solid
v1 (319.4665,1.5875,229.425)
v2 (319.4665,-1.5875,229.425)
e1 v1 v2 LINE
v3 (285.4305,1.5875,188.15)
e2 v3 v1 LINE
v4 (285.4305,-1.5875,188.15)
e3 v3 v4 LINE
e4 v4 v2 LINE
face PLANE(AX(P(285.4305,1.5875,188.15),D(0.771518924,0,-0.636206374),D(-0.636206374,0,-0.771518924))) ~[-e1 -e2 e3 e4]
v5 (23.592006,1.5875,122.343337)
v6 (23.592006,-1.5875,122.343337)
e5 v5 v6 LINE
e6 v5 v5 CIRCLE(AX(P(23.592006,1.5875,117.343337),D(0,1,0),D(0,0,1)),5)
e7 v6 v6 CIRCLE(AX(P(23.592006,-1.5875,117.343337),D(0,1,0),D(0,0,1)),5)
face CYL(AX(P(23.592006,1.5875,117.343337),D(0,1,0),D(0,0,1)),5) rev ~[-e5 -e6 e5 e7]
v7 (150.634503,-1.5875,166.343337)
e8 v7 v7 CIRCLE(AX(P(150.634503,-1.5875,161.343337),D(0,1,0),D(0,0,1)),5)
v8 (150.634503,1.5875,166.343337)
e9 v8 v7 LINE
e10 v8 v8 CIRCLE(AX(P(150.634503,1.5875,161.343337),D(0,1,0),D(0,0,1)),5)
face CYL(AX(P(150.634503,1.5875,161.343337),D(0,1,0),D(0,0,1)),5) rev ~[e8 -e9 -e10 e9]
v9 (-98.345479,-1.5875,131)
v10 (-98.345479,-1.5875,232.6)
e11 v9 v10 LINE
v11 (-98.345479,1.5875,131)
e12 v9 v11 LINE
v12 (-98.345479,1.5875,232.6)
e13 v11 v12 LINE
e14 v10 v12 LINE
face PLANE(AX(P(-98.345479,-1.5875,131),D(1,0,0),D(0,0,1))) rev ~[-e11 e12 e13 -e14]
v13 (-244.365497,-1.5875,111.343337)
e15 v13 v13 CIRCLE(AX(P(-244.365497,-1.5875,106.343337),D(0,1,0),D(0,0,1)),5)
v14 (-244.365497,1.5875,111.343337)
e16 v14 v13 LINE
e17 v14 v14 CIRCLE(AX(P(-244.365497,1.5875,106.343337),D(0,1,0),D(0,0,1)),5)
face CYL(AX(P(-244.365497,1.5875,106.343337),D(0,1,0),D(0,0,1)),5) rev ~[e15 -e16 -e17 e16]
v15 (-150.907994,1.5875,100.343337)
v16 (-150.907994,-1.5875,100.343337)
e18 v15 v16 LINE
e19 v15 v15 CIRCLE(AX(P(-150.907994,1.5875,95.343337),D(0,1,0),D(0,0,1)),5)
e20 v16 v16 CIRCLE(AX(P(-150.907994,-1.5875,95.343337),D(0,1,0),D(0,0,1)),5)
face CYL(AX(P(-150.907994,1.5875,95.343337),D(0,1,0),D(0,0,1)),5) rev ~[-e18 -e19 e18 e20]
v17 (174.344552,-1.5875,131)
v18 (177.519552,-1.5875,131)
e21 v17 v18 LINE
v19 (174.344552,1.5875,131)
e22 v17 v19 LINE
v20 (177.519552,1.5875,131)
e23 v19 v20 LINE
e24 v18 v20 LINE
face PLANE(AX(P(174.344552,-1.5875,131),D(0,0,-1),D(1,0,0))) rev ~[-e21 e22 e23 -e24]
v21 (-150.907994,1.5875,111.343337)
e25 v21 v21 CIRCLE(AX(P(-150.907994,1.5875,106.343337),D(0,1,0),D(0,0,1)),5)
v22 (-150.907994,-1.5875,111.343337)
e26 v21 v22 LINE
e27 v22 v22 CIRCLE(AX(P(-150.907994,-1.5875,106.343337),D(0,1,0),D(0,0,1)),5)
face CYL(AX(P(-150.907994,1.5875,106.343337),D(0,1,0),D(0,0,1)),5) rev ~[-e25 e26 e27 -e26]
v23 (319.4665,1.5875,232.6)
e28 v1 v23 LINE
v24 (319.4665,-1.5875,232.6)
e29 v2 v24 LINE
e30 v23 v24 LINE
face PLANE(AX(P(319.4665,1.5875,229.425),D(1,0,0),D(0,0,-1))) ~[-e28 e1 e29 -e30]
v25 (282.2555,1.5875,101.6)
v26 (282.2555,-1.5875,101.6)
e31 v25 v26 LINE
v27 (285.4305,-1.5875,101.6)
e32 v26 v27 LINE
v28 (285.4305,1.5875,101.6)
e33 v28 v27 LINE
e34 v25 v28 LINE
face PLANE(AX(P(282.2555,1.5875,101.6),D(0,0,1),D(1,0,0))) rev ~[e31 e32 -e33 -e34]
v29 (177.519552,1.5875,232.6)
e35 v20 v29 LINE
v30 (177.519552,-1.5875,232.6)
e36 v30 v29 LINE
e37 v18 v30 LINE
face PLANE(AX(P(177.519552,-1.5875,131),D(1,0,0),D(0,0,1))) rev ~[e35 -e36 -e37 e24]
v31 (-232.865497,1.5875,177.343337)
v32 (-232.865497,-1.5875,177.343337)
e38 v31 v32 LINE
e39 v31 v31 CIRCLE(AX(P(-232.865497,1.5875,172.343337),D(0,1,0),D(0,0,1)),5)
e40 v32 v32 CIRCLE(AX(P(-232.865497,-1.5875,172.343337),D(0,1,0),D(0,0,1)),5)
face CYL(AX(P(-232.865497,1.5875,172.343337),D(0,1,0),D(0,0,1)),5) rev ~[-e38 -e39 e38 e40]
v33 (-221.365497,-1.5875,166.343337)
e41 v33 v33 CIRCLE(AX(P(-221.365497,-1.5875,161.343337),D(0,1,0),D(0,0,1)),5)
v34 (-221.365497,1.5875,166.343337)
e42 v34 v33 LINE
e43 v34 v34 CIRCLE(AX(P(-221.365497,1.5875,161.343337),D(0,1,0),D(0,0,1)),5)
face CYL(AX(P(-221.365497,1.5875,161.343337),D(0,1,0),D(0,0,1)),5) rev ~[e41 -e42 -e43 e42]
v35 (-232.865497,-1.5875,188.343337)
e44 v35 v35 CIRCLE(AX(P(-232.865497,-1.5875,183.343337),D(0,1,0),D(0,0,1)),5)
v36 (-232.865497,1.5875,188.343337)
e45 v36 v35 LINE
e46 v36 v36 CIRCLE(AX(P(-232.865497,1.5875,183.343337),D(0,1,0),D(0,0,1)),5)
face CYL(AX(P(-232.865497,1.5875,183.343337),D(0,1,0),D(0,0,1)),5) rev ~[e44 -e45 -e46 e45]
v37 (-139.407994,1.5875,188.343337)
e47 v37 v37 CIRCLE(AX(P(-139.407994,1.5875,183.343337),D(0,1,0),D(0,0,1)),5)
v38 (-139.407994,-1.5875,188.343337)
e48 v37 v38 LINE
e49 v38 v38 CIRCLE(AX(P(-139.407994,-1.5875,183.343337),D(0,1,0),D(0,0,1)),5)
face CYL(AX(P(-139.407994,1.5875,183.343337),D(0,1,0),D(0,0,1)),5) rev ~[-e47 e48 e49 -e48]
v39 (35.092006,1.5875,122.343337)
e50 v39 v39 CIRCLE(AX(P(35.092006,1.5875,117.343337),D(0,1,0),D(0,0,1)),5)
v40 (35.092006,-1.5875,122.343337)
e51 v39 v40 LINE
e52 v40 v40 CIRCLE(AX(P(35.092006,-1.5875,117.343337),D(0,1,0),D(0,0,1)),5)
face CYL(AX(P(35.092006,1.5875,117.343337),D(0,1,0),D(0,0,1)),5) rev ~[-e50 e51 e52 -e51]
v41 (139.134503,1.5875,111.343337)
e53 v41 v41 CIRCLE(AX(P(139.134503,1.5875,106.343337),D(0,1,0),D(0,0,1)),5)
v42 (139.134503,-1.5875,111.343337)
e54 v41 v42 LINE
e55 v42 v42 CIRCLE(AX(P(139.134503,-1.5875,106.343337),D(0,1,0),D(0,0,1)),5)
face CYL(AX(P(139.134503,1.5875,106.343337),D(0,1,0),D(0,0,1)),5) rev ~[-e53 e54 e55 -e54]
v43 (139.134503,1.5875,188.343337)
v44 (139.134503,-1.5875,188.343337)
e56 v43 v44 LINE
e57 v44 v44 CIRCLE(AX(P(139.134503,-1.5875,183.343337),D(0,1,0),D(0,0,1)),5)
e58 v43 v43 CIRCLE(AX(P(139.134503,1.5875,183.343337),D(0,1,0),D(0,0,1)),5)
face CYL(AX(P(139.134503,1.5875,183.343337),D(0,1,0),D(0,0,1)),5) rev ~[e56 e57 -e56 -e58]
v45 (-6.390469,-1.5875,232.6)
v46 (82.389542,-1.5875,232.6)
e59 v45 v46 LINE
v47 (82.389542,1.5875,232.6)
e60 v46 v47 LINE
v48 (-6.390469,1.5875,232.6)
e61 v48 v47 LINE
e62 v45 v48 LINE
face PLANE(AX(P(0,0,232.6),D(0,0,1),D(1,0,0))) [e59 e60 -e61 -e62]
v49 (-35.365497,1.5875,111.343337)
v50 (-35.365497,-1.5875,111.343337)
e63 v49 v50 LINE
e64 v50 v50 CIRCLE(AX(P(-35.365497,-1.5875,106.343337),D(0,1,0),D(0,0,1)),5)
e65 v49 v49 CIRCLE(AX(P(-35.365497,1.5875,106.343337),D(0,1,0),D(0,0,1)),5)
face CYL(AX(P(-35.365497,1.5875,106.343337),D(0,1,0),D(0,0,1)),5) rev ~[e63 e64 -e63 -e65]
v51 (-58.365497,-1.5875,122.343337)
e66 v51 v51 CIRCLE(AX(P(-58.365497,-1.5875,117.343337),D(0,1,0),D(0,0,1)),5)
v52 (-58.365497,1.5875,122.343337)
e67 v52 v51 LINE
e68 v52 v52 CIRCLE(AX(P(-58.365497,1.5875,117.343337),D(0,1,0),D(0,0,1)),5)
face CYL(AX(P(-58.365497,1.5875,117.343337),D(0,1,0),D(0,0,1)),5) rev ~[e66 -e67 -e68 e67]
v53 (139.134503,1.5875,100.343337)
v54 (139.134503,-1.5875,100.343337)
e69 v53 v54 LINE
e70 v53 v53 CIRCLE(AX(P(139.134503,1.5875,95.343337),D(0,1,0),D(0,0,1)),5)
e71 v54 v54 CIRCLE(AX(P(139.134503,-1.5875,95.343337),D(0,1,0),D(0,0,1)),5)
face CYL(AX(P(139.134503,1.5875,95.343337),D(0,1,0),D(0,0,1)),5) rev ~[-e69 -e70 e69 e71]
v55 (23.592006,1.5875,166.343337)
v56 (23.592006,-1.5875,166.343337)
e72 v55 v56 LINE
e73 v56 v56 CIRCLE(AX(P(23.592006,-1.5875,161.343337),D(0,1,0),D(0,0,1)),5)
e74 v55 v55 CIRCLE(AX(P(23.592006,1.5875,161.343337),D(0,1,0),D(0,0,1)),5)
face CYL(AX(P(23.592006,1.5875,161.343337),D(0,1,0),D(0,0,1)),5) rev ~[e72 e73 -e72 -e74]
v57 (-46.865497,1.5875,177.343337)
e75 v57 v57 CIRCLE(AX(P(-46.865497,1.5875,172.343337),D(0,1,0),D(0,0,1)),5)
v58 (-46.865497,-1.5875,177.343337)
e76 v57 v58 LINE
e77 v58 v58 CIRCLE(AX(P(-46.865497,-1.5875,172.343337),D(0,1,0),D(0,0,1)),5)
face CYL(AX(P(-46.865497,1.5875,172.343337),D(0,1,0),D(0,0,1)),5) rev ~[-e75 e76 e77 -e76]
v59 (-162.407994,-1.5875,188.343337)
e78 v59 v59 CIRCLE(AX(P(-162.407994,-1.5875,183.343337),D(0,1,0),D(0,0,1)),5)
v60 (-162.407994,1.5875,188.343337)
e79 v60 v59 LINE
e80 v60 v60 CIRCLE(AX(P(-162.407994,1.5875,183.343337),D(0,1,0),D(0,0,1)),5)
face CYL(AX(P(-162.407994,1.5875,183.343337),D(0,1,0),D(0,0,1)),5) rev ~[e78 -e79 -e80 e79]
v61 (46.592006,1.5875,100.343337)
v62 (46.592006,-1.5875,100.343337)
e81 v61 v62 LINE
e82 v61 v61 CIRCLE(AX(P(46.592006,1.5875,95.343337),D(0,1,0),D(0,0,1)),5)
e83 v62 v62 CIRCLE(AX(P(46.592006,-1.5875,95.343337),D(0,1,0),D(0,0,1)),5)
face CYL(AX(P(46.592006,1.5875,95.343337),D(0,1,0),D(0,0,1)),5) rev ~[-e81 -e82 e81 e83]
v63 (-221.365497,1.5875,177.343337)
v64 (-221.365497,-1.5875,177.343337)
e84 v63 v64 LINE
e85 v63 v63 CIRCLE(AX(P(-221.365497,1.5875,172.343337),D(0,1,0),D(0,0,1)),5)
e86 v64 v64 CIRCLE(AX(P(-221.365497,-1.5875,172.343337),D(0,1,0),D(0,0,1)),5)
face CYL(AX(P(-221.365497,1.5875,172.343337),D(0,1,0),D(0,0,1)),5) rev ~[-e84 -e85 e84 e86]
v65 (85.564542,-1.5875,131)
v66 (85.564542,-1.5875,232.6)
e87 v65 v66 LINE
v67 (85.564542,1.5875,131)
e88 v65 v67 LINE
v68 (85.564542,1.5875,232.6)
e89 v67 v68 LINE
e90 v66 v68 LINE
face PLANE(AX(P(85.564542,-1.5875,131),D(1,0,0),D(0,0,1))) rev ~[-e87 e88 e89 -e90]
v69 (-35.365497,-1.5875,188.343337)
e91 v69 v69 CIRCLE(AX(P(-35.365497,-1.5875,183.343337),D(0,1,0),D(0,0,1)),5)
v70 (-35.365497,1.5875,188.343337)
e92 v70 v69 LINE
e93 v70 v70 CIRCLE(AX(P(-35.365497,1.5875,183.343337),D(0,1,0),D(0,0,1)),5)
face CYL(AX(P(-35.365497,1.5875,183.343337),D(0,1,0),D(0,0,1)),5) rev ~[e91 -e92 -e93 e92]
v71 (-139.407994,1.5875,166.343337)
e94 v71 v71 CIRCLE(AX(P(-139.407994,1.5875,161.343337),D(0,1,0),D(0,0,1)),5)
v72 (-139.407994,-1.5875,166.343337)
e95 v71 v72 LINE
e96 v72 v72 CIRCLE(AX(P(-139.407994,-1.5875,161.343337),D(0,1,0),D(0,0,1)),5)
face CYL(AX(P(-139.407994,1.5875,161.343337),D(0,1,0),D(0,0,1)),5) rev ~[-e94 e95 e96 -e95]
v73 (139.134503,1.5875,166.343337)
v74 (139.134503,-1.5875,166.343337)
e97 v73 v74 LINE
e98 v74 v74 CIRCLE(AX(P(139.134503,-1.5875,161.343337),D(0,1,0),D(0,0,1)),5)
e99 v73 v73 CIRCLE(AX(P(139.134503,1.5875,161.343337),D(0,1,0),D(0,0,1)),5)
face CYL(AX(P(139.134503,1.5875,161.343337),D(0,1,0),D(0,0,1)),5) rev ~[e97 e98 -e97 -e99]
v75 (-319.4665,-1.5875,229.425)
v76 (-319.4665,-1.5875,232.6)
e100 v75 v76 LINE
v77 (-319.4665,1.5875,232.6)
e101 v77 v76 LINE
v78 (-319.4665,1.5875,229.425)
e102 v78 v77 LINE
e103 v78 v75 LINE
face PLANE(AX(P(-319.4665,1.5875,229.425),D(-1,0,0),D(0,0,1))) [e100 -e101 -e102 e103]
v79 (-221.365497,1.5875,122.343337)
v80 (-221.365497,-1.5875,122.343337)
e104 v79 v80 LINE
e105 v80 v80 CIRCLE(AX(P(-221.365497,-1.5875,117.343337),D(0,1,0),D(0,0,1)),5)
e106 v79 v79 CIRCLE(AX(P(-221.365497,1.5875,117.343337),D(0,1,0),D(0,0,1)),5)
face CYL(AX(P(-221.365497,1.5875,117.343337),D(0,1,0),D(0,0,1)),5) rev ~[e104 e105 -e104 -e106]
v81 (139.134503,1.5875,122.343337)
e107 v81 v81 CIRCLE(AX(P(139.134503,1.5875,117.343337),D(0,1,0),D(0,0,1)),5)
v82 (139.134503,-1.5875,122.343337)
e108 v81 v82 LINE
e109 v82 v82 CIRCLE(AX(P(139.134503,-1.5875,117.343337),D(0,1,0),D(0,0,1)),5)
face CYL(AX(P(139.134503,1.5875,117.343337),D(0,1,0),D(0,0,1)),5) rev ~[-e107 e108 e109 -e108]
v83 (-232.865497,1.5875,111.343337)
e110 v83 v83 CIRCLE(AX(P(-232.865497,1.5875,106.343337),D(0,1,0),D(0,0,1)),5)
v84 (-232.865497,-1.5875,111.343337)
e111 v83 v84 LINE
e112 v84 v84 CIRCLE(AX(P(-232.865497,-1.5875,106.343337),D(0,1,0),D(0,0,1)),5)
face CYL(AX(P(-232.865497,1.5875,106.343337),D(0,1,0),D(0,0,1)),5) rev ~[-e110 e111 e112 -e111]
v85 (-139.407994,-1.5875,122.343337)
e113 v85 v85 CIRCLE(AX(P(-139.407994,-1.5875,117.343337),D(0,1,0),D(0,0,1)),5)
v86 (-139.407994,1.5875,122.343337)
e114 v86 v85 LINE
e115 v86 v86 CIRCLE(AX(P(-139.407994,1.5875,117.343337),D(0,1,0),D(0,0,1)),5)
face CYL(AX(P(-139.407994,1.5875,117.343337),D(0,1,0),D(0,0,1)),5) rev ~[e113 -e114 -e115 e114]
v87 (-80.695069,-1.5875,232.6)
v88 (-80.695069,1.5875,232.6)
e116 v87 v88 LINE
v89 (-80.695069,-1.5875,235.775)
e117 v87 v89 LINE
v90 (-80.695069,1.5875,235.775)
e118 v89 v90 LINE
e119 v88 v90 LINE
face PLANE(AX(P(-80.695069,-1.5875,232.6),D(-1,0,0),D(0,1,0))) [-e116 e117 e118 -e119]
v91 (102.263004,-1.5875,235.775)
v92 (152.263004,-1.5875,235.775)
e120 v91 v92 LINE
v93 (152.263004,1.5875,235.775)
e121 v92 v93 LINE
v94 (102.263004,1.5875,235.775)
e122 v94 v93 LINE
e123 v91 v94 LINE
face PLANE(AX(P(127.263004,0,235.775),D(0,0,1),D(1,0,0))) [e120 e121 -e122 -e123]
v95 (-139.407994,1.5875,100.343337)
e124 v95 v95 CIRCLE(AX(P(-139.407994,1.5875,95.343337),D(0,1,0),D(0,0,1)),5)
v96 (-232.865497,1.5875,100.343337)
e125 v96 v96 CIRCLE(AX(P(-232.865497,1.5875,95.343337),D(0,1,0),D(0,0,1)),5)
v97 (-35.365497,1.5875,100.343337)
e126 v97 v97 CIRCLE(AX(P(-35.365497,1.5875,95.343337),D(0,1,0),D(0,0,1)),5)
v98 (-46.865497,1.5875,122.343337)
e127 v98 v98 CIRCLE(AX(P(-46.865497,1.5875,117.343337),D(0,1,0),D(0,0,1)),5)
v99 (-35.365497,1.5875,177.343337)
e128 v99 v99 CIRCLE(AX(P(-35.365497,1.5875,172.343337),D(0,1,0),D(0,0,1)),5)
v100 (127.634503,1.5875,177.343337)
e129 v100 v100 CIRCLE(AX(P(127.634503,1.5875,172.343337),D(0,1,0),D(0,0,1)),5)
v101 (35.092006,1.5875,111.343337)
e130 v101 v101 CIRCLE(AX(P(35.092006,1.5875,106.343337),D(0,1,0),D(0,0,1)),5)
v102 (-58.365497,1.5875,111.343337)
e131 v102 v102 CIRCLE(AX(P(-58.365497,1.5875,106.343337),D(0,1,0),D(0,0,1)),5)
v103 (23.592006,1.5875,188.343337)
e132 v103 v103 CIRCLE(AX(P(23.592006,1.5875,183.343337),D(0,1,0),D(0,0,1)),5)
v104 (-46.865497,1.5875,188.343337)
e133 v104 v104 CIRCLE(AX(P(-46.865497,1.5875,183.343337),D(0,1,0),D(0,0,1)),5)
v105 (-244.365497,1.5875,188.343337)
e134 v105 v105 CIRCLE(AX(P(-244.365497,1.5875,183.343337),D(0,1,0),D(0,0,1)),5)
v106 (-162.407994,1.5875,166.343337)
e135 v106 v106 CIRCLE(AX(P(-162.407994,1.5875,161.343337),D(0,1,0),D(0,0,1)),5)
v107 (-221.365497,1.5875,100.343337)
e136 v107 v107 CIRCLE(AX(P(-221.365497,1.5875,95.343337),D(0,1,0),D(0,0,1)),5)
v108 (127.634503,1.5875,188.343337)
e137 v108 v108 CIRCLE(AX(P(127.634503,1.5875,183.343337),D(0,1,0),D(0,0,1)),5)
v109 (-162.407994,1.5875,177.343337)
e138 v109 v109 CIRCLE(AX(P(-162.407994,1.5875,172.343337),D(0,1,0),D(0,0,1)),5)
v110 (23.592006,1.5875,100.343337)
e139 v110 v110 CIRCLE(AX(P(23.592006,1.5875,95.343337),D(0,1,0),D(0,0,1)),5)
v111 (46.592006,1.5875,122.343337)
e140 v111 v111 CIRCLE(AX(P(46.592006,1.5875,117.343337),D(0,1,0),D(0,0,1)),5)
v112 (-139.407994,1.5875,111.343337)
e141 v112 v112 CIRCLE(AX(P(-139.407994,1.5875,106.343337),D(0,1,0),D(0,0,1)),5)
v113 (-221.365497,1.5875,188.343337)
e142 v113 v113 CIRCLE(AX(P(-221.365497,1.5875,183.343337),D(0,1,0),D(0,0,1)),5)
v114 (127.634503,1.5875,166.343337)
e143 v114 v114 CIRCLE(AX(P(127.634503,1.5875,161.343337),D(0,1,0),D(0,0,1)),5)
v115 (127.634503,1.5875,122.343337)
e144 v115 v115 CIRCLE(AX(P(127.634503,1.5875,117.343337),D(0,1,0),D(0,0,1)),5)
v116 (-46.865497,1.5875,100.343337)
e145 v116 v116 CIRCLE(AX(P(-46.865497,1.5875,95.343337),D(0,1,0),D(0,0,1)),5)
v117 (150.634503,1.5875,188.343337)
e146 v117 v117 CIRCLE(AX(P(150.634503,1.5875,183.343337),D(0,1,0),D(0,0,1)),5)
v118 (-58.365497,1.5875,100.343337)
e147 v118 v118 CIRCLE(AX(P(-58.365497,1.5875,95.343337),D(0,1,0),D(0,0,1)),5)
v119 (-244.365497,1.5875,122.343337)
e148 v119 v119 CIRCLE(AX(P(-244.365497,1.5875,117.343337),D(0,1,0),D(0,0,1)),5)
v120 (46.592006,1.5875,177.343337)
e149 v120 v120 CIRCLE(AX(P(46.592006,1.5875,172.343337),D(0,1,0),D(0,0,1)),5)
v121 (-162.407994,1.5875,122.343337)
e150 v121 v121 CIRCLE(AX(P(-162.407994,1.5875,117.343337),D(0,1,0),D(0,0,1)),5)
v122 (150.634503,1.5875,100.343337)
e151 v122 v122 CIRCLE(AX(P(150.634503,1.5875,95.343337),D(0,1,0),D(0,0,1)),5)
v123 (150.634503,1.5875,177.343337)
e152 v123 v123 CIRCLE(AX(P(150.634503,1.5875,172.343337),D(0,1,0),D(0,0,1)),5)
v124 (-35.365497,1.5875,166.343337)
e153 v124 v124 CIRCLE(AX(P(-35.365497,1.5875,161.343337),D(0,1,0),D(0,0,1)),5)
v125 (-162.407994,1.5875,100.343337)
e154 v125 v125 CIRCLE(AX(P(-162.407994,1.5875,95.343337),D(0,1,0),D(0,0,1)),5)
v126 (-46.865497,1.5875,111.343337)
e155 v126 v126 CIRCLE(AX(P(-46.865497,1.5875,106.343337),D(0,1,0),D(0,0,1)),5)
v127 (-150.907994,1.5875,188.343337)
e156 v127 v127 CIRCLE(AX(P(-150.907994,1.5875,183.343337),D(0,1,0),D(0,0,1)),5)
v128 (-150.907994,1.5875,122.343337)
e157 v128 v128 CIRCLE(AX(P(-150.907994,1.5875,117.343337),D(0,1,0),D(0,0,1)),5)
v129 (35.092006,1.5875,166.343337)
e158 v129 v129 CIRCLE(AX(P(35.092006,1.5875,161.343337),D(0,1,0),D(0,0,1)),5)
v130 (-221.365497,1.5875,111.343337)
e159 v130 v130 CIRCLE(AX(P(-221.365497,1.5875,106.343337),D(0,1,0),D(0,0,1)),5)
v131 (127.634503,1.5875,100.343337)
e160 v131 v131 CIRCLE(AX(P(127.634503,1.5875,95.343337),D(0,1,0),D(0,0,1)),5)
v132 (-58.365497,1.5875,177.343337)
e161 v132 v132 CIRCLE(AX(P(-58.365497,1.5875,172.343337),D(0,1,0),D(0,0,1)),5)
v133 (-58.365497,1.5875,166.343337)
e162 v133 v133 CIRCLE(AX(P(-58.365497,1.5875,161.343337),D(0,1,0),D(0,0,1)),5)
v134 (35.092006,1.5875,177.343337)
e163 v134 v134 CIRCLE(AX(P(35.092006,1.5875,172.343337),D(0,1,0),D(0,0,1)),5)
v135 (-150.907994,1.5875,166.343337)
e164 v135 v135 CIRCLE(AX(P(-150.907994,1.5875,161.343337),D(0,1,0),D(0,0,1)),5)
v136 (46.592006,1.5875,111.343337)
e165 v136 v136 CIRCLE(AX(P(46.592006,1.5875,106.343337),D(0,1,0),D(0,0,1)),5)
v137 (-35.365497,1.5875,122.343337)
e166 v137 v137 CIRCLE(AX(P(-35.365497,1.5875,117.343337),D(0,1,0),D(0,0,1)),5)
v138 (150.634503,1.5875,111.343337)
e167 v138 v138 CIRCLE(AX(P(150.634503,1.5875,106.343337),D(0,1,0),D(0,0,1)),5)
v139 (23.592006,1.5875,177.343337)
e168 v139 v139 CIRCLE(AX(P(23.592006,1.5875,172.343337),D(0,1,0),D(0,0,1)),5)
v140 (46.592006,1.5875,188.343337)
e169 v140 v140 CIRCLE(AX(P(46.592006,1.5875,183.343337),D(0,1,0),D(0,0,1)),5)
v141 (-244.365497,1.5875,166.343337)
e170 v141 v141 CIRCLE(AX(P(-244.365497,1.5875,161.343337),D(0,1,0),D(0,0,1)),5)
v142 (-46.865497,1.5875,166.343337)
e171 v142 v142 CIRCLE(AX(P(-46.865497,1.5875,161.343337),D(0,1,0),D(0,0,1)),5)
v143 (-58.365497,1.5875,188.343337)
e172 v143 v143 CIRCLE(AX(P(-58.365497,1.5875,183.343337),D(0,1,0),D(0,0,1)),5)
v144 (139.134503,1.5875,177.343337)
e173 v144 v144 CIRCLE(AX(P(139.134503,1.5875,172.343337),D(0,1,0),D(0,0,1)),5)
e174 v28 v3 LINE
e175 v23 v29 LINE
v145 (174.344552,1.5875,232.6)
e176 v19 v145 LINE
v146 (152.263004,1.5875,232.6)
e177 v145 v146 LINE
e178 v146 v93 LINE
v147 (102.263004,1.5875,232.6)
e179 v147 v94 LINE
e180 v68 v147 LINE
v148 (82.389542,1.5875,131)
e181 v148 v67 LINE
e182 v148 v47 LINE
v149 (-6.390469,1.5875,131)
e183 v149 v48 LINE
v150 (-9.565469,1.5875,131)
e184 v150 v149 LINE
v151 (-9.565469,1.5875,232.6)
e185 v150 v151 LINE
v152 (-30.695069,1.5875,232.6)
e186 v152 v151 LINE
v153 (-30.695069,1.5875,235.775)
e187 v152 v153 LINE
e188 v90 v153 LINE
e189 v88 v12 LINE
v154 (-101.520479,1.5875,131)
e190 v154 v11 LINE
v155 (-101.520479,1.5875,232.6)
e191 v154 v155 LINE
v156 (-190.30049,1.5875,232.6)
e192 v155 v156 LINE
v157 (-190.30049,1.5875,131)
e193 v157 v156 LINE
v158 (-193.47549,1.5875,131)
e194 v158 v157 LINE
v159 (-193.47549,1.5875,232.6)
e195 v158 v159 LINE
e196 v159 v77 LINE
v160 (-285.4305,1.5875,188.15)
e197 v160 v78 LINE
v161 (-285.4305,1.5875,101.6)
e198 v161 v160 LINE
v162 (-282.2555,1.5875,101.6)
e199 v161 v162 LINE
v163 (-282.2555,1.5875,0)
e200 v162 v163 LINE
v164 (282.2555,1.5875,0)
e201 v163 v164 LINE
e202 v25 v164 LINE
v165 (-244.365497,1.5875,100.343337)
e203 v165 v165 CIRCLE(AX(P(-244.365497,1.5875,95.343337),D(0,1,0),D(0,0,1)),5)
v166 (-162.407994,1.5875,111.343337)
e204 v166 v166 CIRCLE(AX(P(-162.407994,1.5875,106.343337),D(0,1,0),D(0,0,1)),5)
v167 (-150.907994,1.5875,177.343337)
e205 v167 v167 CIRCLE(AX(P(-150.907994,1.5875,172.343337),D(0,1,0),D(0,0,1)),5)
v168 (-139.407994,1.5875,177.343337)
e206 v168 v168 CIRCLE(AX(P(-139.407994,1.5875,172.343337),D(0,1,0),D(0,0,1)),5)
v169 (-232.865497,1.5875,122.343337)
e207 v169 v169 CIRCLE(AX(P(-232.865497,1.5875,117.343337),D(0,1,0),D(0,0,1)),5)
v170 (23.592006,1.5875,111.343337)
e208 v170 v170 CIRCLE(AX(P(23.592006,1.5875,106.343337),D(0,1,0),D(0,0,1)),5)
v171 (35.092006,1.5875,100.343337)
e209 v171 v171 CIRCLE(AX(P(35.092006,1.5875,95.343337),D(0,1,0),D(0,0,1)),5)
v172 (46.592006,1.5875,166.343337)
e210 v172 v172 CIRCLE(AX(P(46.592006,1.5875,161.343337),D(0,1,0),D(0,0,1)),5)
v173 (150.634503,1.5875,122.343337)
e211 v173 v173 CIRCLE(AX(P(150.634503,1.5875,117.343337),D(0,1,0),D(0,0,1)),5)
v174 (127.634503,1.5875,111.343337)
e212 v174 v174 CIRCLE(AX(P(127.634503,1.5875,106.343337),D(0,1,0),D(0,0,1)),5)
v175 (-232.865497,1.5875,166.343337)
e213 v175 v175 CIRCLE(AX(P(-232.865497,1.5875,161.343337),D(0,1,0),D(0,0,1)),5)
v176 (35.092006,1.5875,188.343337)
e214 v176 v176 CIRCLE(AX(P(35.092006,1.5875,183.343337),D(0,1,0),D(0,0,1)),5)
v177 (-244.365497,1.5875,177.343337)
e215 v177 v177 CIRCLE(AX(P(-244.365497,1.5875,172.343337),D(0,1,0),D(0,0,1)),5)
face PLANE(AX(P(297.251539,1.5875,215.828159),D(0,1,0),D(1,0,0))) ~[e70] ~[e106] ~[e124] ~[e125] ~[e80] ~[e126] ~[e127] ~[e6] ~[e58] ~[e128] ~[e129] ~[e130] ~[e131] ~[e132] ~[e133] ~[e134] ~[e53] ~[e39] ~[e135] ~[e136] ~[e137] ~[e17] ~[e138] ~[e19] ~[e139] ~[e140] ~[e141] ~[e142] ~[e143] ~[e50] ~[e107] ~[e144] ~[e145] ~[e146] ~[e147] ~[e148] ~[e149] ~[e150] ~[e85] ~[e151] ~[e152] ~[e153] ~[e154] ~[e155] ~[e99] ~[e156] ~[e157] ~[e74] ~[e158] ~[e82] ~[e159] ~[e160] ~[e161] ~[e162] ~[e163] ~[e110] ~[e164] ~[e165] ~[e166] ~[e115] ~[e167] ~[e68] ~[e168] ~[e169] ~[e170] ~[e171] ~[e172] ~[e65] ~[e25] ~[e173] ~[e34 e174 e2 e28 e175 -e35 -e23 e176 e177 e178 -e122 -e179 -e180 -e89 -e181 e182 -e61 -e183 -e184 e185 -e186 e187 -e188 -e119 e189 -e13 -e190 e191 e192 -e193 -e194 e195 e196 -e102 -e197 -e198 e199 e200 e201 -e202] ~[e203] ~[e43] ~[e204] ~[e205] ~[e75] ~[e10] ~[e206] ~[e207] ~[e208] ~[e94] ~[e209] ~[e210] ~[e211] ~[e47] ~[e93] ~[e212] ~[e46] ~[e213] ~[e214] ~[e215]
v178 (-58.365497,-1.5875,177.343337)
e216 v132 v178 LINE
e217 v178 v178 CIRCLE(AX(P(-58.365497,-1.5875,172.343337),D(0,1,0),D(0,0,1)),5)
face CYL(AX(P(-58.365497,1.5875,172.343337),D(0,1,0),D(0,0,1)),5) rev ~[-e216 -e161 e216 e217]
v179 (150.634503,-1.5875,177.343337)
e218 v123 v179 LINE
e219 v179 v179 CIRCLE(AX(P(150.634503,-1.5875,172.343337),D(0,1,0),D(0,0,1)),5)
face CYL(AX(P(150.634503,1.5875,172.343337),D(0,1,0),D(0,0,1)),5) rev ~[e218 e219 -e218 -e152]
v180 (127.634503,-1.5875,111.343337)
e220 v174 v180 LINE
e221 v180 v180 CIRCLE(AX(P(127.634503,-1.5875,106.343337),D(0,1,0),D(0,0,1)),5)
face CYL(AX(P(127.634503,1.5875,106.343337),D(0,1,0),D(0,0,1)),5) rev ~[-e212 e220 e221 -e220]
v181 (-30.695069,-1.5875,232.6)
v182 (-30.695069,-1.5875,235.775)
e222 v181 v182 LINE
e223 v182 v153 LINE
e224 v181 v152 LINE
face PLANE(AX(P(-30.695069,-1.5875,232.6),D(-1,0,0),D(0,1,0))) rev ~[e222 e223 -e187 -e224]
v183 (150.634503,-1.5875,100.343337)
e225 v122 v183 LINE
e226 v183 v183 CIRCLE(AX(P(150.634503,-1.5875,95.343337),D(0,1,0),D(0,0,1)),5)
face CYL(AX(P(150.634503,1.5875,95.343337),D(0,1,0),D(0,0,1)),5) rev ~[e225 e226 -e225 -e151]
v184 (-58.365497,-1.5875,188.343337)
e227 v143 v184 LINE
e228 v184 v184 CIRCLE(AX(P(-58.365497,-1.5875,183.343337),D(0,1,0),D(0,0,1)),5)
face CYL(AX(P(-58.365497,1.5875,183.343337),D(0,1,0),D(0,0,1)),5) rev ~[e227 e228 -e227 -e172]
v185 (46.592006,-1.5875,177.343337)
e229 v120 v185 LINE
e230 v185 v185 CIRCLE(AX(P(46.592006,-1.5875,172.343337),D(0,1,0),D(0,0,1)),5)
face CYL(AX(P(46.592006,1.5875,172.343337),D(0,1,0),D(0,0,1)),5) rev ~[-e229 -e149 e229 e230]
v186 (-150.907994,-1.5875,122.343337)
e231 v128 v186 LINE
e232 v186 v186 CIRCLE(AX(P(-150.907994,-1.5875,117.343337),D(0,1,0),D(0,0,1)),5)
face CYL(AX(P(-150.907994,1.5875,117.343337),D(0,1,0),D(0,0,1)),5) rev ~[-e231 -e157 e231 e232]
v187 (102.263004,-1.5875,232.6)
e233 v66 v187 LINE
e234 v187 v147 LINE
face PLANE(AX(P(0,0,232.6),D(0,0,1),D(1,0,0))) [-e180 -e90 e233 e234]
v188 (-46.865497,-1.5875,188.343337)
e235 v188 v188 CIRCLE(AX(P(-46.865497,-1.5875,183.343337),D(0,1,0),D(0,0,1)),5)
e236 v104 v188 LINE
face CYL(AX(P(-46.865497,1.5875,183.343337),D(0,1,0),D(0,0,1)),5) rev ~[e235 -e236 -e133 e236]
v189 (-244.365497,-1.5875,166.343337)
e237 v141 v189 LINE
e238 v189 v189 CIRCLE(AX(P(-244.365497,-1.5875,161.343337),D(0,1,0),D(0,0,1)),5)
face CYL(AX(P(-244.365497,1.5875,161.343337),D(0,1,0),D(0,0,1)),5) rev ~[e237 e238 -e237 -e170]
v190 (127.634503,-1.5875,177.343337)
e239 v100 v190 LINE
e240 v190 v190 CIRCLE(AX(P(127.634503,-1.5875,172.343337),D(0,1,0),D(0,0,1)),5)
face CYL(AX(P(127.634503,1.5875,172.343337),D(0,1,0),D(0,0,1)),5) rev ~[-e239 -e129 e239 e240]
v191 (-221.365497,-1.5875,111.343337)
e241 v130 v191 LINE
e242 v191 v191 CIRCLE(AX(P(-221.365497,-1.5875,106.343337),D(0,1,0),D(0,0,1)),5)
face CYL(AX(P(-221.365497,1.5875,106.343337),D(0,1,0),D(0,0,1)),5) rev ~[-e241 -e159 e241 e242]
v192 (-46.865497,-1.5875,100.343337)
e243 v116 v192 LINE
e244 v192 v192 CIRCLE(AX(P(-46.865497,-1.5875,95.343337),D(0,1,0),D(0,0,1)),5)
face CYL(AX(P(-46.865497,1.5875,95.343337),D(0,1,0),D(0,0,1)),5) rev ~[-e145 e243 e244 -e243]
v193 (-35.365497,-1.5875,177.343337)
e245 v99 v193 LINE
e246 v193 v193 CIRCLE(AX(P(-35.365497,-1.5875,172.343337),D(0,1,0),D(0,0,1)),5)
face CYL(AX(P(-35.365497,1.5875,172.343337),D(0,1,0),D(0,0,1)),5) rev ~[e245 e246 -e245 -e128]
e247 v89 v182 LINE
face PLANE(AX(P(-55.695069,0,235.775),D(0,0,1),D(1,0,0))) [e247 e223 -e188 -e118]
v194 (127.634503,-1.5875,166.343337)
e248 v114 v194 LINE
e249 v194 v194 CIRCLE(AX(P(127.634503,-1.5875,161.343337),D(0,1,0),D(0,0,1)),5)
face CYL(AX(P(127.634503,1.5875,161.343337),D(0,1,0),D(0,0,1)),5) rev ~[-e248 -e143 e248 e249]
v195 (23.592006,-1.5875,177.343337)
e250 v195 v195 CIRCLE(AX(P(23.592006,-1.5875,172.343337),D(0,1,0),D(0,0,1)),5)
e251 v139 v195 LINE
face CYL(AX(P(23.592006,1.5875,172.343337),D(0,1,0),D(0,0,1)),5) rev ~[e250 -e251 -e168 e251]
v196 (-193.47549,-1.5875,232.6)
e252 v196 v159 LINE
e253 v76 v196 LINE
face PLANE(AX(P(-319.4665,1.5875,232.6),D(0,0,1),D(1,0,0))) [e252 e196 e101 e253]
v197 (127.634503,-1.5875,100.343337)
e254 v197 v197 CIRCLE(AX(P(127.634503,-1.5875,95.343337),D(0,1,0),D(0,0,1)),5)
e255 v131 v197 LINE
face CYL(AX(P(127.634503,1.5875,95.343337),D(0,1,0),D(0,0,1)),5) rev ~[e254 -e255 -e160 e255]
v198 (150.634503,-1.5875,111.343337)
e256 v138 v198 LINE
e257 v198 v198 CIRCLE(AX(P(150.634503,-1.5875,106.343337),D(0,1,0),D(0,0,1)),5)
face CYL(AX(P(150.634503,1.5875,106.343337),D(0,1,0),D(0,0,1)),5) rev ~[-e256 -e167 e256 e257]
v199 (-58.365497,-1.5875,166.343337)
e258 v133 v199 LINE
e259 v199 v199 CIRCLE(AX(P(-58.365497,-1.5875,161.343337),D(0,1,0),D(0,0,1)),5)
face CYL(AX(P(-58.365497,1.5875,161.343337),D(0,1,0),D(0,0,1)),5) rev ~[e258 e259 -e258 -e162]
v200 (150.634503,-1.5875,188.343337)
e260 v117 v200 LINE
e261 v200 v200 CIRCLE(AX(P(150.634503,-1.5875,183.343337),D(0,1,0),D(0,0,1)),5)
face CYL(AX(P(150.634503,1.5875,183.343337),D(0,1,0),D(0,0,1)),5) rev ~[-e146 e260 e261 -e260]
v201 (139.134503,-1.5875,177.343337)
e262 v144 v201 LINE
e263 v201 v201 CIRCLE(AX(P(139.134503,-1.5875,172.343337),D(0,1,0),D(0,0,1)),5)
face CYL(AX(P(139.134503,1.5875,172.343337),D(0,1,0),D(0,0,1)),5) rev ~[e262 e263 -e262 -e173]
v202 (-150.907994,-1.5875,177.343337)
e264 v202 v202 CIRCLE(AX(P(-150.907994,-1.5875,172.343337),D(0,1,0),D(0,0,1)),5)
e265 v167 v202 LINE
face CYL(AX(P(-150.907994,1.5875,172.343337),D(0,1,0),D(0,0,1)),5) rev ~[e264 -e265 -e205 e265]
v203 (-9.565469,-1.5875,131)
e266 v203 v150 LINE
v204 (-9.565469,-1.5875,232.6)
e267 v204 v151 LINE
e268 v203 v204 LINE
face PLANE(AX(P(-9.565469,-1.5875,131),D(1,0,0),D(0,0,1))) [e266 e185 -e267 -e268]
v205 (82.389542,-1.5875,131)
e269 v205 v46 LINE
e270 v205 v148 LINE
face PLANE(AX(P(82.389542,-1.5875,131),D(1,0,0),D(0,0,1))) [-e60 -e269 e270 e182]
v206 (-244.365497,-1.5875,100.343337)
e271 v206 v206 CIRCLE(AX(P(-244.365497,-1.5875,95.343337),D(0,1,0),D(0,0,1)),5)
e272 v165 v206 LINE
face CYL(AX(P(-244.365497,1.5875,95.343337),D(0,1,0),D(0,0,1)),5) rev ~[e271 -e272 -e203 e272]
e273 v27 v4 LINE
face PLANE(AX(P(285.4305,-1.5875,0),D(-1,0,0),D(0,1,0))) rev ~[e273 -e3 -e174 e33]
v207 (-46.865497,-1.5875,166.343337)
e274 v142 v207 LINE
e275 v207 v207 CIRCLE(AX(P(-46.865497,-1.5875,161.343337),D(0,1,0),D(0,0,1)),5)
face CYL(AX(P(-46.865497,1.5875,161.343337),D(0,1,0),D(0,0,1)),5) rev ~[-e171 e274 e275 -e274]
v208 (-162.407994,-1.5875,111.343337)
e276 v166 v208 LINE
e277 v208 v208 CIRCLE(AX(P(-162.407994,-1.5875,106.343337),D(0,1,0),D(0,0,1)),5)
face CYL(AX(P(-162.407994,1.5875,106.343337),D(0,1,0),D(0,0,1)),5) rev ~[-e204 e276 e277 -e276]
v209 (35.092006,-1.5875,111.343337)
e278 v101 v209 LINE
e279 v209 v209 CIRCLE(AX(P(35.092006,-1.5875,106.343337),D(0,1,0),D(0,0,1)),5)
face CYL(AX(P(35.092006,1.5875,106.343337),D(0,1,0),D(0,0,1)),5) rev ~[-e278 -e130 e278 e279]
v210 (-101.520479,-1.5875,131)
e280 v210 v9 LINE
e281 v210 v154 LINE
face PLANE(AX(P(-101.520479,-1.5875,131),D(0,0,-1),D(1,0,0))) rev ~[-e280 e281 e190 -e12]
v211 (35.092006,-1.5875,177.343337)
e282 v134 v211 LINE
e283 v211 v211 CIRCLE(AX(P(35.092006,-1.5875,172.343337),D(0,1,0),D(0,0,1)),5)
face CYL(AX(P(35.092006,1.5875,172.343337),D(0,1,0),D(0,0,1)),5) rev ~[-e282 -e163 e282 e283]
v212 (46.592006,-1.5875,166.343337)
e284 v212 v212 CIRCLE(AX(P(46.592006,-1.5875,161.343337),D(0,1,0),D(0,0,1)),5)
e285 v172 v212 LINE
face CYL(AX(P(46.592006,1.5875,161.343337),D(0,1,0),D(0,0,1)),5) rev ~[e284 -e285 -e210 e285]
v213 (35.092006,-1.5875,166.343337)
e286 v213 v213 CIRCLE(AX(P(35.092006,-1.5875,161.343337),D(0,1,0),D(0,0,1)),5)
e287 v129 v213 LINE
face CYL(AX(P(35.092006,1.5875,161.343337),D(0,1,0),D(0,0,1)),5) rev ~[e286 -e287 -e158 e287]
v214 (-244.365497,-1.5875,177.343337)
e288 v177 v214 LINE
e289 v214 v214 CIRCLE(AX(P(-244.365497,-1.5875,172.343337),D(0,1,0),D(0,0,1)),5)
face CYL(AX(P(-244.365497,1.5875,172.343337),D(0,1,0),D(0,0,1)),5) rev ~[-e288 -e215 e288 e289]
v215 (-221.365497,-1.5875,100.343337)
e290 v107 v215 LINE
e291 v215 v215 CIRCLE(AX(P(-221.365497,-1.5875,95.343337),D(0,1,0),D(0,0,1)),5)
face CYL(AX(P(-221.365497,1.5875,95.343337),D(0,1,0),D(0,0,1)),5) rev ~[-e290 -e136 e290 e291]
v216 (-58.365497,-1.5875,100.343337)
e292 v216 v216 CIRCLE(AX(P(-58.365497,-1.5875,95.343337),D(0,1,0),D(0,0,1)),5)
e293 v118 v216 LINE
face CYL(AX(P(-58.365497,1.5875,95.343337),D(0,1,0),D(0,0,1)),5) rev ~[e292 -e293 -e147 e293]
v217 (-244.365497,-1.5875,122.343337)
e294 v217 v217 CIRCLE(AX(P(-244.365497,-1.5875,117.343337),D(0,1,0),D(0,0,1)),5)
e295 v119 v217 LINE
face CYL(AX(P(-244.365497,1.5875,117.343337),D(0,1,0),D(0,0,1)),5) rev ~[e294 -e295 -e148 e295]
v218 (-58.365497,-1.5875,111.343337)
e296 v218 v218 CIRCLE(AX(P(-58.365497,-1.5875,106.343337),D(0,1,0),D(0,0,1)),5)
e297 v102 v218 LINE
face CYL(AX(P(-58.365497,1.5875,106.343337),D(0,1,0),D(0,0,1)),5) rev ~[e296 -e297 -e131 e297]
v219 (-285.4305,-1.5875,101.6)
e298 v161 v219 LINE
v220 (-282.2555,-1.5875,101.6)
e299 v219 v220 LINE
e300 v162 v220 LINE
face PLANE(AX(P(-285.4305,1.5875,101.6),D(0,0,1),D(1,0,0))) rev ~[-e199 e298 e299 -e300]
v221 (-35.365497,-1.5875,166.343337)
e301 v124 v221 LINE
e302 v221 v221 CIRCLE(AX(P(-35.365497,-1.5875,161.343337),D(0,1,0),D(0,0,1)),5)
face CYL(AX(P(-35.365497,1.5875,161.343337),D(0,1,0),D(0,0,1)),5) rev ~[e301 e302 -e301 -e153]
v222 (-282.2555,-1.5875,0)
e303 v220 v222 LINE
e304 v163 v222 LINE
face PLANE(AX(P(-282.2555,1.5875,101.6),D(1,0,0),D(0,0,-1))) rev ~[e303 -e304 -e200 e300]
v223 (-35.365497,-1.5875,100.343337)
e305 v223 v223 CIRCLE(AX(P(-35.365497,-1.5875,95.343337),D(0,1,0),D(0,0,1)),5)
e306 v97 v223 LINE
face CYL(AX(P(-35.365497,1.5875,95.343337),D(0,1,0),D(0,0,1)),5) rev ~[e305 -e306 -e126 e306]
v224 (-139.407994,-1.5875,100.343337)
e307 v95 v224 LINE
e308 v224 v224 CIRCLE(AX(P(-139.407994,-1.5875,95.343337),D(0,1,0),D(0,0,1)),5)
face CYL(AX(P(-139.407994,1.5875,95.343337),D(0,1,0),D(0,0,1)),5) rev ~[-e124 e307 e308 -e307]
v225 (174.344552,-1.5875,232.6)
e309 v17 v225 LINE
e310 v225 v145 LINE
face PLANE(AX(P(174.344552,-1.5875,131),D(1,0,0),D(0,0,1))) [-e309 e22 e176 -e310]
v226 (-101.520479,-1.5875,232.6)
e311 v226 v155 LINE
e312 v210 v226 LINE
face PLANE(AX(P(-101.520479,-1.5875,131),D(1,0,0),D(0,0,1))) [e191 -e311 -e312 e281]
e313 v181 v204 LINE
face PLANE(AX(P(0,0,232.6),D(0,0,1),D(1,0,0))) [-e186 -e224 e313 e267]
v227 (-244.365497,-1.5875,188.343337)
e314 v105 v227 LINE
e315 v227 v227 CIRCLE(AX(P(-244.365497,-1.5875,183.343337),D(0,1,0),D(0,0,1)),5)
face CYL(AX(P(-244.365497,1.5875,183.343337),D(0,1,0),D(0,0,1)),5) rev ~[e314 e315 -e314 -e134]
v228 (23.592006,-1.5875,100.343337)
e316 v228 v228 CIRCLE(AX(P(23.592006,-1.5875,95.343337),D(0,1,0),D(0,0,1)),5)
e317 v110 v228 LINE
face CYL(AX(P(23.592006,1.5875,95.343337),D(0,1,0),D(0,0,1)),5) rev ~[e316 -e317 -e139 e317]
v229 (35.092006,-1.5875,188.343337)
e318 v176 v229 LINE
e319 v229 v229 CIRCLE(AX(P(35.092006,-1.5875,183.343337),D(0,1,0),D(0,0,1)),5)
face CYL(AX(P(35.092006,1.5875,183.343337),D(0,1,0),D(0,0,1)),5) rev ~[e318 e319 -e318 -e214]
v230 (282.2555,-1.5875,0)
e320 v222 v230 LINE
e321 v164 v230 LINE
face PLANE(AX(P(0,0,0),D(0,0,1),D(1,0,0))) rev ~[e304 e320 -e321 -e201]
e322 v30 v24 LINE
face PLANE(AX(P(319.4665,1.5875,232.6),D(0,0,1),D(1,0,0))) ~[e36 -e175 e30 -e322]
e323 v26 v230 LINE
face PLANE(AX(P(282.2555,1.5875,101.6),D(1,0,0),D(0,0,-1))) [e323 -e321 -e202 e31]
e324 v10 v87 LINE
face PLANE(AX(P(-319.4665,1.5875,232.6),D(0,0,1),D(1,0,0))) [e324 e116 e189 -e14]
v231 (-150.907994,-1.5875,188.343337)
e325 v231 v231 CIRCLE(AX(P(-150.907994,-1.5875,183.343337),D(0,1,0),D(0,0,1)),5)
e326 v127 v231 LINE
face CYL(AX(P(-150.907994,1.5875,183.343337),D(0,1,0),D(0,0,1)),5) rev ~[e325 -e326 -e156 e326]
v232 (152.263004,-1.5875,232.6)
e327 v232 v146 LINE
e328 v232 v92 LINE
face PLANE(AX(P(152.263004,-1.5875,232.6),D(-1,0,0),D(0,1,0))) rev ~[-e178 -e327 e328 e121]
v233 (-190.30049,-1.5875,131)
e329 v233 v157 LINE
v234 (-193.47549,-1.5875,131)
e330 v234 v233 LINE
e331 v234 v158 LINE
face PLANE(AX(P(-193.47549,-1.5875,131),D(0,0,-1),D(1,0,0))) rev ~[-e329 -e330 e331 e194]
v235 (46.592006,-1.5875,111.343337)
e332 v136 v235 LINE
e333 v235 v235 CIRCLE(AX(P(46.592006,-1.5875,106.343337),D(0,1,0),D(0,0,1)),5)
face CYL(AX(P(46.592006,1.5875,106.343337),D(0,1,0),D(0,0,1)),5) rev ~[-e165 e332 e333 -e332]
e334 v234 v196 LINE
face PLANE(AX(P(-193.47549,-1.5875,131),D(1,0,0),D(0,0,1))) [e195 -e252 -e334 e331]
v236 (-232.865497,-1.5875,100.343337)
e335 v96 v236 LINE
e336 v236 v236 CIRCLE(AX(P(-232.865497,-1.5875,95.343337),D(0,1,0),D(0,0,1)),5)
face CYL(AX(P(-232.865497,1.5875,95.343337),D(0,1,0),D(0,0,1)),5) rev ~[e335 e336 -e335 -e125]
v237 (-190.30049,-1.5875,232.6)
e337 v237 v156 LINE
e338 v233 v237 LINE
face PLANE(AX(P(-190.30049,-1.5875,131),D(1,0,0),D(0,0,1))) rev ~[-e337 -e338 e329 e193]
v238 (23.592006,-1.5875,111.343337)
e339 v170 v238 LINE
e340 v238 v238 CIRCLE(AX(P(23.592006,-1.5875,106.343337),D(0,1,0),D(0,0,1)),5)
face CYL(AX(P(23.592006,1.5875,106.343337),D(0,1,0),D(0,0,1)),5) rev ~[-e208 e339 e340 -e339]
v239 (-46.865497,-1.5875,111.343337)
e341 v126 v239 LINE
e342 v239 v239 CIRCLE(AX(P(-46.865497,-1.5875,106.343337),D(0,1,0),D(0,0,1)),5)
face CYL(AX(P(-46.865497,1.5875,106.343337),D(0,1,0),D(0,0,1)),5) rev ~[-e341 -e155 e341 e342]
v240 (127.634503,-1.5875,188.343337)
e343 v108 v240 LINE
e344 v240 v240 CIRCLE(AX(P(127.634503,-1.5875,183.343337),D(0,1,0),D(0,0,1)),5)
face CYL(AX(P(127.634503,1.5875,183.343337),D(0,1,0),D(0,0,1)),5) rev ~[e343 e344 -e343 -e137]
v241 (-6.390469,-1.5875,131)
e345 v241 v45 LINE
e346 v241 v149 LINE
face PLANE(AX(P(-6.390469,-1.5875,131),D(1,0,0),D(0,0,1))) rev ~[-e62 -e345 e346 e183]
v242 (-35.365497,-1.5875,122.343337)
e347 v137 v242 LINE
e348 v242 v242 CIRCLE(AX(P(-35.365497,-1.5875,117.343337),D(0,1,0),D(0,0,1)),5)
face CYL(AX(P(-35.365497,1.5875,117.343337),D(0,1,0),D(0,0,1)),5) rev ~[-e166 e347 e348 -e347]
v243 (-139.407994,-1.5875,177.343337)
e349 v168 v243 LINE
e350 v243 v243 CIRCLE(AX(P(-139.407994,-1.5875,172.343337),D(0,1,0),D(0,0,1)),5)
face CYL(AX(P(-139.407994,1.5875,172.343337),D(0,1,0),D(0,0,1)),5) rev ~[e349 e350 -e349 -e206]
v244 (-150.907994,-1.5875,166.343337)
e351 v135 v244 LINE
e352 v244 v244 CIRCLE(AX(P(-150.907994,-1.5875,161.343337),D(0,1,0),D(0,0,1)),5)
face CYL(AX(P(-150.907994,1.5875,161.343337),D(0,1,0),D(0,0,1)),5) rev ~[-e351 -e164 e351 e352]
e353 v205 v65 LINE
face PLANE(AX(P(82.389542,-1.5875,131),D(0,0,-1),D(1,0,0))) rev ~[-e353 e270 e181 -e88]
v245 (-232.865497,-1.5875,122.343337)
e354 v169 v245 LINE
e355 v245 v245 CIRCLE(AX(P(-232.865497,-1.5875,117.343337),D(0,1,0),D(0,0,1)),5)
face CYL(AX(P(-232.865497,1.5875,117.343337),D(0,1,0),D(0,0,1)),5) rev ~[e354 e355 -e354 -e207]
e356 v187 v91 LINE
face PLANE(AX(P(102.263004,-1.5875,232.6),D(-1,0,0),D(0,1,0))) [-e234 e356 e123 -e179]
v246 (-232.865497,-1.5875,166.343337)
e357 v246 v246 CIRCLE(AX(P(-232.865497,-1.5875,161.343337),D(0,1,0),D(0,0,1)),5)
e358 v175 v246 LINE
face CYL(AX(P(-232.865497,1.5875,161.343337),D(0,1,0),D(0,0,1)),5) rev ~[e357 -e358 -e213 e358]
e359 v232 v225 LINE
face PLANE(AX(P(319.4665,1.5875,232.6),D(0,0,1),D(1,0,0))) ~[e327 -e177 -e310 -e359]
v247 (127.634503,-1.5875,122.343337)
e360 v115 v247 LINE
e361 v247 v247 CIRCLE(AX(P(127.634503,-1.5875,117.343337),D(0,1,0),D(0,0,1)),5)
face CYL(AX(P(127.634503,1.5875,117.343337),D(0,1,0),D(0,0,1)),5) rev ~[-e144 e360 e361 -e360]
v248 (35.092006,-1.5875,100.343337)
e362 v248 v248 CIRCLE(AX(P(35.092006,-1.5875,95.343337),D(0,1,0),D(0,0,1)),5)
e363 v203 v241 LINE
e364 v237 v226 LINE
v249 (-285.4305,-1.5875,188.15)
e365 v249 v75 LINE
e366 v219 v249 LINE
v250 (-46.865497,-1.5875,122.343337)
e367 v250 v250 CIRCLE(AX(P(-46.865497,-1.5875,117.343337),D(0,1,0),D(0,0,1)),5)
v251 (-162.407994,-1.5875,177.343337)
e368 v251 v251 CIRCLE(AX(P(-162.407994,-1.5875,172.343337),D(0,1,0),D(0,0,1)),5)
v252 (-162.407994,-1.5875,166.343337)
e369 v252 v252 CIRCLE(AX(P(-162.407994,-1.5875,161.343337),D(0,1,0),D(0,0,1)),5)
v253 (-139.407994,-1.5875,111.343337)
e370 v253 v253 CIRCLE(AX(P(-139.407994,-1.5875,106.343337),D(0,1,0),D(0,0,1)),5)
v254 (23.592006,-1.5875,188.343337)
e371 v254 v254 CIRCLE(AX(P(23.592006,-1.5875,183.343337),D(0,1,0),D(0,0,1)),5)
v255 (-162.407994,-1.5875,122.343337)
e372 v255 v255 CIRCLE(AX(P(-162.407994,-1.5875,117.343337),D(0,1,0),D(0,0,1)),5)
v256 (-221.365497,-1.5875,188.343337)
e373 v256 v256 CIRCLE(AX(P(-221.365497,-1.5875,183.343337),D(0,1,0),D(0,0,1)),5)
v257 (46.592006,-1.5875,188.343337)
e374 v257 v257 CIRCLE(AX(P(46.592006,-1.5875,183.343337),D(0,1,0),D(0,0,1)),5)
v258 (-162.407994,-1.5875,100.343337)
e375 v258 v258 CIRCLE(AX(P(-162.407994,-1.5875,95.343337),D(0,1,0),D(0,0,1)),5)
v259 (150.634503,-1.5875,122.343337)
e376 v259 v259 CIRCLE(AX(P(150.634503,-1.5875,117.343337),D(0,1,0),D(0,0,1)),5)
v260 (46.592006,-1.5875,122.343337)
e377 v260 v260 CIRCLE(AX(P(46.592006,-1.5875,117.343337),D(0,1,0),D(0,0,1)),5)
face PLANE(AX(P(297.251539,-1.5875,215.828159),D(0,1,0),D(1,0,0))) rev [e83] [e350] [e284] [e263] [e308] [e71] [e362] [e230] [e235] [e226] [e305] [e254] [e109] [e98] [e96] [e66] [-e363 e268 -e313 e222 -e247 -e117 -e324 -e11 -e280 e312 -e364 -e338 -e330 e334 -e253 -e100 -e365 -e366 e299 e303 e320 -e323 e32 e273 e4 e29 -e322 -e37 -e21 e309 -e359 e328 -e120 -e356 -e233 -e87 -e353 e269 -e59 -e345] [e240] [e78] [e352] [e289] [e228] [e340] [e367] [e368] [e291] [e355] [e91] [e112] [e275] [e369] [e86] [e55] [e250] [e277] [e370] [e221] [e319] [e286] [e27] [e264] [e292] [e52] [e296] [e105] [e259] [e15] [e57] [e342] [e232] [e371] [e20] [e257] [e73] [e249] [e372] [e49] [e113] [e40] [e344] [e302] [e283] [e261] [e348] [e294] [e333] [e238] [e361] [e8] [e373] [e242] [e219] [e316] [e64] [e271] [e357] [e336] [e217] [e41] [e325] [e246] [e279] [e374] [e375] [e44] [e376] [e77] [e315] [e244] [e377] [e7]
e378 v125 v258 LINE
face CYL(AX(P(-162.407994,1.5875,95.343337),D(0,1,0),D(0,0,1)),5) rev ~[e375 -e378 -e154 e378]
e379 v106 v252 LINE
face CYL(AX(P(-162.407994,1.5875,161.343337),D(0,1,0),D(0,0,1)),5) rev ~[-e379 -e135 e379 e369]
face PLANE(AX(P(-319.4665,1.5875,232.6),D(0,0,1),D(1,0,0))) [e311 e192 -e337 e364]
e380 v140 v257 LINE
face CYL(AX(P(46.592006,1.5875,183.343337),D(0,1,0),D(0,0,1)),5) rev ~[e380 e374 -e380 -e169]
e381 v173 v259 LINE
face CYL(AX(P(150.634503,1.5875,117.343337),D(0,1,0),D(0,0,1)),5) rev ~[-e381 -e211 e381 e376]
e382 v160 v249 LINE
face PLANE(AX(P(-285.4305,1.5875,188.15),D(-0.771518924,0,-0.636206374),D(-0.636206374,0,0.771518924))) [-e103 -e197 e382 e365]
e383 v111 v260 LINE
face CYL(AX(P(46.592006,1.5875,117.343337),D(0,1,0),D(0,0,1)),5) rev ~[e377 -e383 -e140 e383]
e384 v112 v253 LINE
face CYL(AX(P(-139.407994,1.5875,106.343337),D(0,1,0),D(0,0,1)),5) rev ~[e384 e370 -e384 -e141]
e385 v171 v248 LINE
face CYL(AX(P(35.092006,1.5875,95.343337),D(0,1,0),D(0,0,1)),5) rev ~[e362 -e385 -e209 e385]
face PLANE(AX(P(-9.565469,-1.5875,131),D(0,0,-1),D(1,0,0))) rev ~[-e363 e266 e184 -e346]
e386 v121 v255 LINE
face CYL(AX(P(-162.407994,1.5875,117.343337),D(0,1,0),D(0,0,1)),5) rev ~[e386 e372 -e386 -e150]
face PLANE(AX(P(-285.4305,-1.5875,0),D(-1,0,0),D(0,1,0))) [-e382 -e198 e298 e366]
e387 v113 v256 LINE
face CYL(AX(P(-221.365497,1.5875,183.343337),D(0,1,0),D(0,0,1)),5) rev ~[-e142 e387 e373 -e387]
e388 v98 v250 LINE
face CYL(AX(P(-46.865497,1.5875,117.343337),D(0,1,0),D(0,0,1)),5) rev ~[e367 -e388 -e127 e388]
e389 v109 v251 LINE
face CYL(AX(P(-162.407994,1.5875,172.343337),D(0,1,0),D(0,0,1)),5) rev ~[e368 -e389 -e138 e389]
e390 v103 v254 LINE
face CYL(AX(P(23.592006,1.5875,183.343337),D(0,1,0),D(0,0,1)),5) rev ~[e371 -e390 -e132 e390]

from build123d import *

# Parameters (mm, degrees)
SKETCH1_W           = 570.861
SKETCH1_H           = 3.175
BOSS_EXTRUDE1_DEPTH = 232.6
SKETCH6_W           = 50
SKETCH6_H           = 3.175
BOSS_EXTRUDE2_DEPTH = 3.175
SKETCH2_W           = 3.175
SKETCH2_H           = 101.6
CUT_EXTRUDE5_DEPTH  = 371.230335845
BOSS_EXTRUDE3_DEPTH = 3.175
SKETCH13_W          = 3.175
SKETCH13_H          = 101.6
CUT_EXTRUDE6_DEPTH  = 398.062685067
LPATTERN2_COUNT     = 5
LPATTERN2_PITCH     = 91.9550104
SKETCH21_R          = 5
CUT_EXTRUDE9_DEPTH  = 398.062685067
LPATTERN5_COUNT     = 3
LPATTERN5_PITCH     = 186
SKETCH22_R          = 5
CUT_EXTRUDE10_DEPTH = 398.062685067
LPATTERN6_COUNT     = 2
LPATTERN6_PITCH     = 186


with BuildPart() as part:
    # Sketch1 → Boss-Extrude1 (new body)
    with BuildSketch(Plane.XY):
        Rectangle(SKETCH1_W, SKETCH1_H)
    extrude(amount=BOSS_EXTRUDE1_DEPTH)

    # Sketch6 → Boss-Extrude2 (add)
    with BuildSketch(Plane.XY.offset(232.6)):
        with Locations((127.26300405, 0)):
            Rectangle(SKETCH6_W, SKETCH6_H)
        with Locations((-55.6950692, 0)):
            Rectangle(SKETCH6_W, SKETCH6_H)
    extrude(amount=BOSS_EXTRUDE2_DEPTH)

    # Sketch2 → Cut-Extrude5 (cut, through all)
    with BuildSketch(Plane(origin=(0, 1.5875, 0), x_dir=(1, 0, 0), z_dir=(0, 1, 0))):
        with Locations((283.843, -50.8)):
            Rectangle(SKETCH2_W, SKETCH2_H)
        with Locations((-283.843, -50.8)):
            Rectangle(SKETCH2_W, SKETCH2_H)
    extrude(amount=-CUT_EXTRUDE5_DEPTH, mode=Mode.SUBTRACT)

    # Sketch12 → Boss-Extrude3 (add)
    with BuildSketch(Plane(origin=(0, 1.5875, 0), x_dir=(1, 0, 0), z_dir=(0, 1, 0))):
        Polygon((-319.4665, -232.6), (-285.4305, -232.6), (-285.4305, -188.15), (-319.4665, -229.425), align=None)
    boss_extrude3 = extrude(amount=-BOSS_EXTRUDE3_DEPTH)

    # Mirror1: Boss-Extrude3 across plane
    add(boss_extrude3.mirror(Plane(origin=(0, 0, 0), x_dir=(0, 0, 1), z_dir=(1, 0, 0))))

    # Sketch13 → Cut-Extrude6 (cut, through all)
    with BuildSketch(Plane.XZ.offset(1.5875)):
        with Locations((-191.8879896, 181.8)):
            Rectangle(SKETCH13_W, SKETCH13_H)
    cut_extrude6 = extrude(amount=-CUT_EXTRUDE6_DEPTH, mode=Mode.SUBTRACT)

    # LPattern2: Cut-Extrude6 ×5
    with Locations(*[(i * LPATTERN2_PITCH, 0, 0) for i in range(1, LPATTERN2_COUNT)]):
        add(cut_extrude6, mode=Mode.SUBTRACT)

    # Sketch21 → Cut-Extrude9 (cut, through all)
    with BuildSketch(Plane(origin=(0, 1.5875, 0), x_dir=(1, 0, 0), z_dir=(0, 1, 0))):
        with Locations((-232.865497081, -95.343337061)):
            Circle(SKETCH21_R)
        with Locations((-244.365497081, -95.343337061)):
            Circle(SKETCH21_R)
        with Locations((-244.365497081, -106.343337061)):
            Circle(SKETCH21_R)
        with Locations((-244.365497081, -117.343337061)):
            Circle(SKETCH21_R)
        with Locations((-221.365497081, -106.343337061)):
            Circle(SKETCH21_R)
        with Locations((-232.865497081, -106.343337061)):
            Circle(SKETCH21_R)
        with Locations((-232.865497081, -117.343337061)):
            Circle(SKETCH21_R)
        with Locations((-221.365497081, -117.343337061)):
            Circle(SKETCH21_R)
        with Locations((-221.365497081, -95.343337061)):
            Circle(SKETCH21_R)
        with Locations((-244.365497081, -183.343337061)):
            Circle(SKETCH21_R)
        with Locations((-232.865497081, -183.343337061)):
            Circle(SKETCH21_R)
        with Locations((-221.365497081, -183.343337061)):
            Circle(SKETCH21_R)
        with Locations((-221.365497081, -172.343337061)):
            Circle(SKETCH21_R)
        with Locations((-221.365497081, -161.343337061)):
            Circle(SKETCH21_R)
        with Locations((-232.865497081, -161.343337061)):
            Circle(SKETCH21_R)
        with Locations((-232.865497081, -172.343337061)):
            Circle(SKETCH21_R)
        with Locations((-244.365497081, -172.343337061)):
            Circle(SKETCH21_R)
        with Locations((-244.365497081, -161.343337061)):
            Circle(SKETCH21_R)
    cut_extrude9 = extrude(amount=-CUT_EXTRUDE9_DEPTH, mode=Mode.SUBTRACT)

    # LPattern5: Cut-Extrude9 ×3
    with Locations(*[(i * LPATTERN5_PITCH, 0, 0) for i in range(1, LPATTERN5_COUNT)]):
        add(cut_extrude9, mode=Mode.SUBTRACT)

    # Sketch22 → Cut-Extrude10 (cut, through all)
    with BuildSketch(Plane(origin=(0, 1.5875, 0), x_dir=(1, 0, 0), z_dir=(0, 1, 0))):
        with Locations((-139.407994162, -117.343337061)):
            Circle(SKETCH22_R)
        with Locations((-150.907994162, -117.343337061)):
            Circle(SKETCH22_R)
        with Locations((-162.407994162, -117.343337061)):
            Circle(SKETCH22_R)
        with Locations((-162.407994162, -106.343337061)):
            Circle(SKETCH22_R)
        with Locations((-150.907994162, -106.343337061)):
            Circle(SKETCH22_R)
        with Locations((-139.407994162, -106.343337061)):
            Circle(SKETCH22_R)
        with Locations((-139.407994162, -95.343337061)):
            Circle(SKETCH22_R)
        with Locations((-150.907994162, -95.343337061)):
            Circle(SKETCH22_R)
        with Locations((-162.407994162, -95.343337061)):
            Circle(SKETCH22_R)
        with Locations((-139.407994162, -183.343337061)):
            Circle(SKETCH22_R)
        with Locations((-139.407994162, -172.343337061)):
            Circle(SKETCH22_R)
        with Locations((-139.407994162, -161.343337061)):
            Circle(SKETCH22_R)
        with Locations((-150.907994162, -161.343337061)):
            Circle(SKETCH22_R)
        with Locations((-150.907994162, -172.343337061)):
            Circle(SKETCH22_R)
        with Locations((-150.907994162, -183.343337061)):
            Circle(SKETCH22_R)
        with Locations((-162.407994162, -183.343337061)):
            Circle(SKETCH22_R)
        with Locations((-162.407994162, -172.343337061)):
            Circle(SKETCH22_R)
        with Locations((-162.407994162, -161.343337061)):
            Circle(SKETCH22_R)
    cut_extrude10 = extrude(amount=-CUT_EXTRUDE10_DEPTH, mode=Mode.SUBTRACT)

    # LPattern6: Cut-Extrude10 ×2
    with Locations(*[(i * LPATTERN6_PITCH, 0, 0) for i in range(1, LPATTERN6_COUNT)]):
        add(cut_extrude10, mode=Mode.SUBTRACT)


solid = part.part
